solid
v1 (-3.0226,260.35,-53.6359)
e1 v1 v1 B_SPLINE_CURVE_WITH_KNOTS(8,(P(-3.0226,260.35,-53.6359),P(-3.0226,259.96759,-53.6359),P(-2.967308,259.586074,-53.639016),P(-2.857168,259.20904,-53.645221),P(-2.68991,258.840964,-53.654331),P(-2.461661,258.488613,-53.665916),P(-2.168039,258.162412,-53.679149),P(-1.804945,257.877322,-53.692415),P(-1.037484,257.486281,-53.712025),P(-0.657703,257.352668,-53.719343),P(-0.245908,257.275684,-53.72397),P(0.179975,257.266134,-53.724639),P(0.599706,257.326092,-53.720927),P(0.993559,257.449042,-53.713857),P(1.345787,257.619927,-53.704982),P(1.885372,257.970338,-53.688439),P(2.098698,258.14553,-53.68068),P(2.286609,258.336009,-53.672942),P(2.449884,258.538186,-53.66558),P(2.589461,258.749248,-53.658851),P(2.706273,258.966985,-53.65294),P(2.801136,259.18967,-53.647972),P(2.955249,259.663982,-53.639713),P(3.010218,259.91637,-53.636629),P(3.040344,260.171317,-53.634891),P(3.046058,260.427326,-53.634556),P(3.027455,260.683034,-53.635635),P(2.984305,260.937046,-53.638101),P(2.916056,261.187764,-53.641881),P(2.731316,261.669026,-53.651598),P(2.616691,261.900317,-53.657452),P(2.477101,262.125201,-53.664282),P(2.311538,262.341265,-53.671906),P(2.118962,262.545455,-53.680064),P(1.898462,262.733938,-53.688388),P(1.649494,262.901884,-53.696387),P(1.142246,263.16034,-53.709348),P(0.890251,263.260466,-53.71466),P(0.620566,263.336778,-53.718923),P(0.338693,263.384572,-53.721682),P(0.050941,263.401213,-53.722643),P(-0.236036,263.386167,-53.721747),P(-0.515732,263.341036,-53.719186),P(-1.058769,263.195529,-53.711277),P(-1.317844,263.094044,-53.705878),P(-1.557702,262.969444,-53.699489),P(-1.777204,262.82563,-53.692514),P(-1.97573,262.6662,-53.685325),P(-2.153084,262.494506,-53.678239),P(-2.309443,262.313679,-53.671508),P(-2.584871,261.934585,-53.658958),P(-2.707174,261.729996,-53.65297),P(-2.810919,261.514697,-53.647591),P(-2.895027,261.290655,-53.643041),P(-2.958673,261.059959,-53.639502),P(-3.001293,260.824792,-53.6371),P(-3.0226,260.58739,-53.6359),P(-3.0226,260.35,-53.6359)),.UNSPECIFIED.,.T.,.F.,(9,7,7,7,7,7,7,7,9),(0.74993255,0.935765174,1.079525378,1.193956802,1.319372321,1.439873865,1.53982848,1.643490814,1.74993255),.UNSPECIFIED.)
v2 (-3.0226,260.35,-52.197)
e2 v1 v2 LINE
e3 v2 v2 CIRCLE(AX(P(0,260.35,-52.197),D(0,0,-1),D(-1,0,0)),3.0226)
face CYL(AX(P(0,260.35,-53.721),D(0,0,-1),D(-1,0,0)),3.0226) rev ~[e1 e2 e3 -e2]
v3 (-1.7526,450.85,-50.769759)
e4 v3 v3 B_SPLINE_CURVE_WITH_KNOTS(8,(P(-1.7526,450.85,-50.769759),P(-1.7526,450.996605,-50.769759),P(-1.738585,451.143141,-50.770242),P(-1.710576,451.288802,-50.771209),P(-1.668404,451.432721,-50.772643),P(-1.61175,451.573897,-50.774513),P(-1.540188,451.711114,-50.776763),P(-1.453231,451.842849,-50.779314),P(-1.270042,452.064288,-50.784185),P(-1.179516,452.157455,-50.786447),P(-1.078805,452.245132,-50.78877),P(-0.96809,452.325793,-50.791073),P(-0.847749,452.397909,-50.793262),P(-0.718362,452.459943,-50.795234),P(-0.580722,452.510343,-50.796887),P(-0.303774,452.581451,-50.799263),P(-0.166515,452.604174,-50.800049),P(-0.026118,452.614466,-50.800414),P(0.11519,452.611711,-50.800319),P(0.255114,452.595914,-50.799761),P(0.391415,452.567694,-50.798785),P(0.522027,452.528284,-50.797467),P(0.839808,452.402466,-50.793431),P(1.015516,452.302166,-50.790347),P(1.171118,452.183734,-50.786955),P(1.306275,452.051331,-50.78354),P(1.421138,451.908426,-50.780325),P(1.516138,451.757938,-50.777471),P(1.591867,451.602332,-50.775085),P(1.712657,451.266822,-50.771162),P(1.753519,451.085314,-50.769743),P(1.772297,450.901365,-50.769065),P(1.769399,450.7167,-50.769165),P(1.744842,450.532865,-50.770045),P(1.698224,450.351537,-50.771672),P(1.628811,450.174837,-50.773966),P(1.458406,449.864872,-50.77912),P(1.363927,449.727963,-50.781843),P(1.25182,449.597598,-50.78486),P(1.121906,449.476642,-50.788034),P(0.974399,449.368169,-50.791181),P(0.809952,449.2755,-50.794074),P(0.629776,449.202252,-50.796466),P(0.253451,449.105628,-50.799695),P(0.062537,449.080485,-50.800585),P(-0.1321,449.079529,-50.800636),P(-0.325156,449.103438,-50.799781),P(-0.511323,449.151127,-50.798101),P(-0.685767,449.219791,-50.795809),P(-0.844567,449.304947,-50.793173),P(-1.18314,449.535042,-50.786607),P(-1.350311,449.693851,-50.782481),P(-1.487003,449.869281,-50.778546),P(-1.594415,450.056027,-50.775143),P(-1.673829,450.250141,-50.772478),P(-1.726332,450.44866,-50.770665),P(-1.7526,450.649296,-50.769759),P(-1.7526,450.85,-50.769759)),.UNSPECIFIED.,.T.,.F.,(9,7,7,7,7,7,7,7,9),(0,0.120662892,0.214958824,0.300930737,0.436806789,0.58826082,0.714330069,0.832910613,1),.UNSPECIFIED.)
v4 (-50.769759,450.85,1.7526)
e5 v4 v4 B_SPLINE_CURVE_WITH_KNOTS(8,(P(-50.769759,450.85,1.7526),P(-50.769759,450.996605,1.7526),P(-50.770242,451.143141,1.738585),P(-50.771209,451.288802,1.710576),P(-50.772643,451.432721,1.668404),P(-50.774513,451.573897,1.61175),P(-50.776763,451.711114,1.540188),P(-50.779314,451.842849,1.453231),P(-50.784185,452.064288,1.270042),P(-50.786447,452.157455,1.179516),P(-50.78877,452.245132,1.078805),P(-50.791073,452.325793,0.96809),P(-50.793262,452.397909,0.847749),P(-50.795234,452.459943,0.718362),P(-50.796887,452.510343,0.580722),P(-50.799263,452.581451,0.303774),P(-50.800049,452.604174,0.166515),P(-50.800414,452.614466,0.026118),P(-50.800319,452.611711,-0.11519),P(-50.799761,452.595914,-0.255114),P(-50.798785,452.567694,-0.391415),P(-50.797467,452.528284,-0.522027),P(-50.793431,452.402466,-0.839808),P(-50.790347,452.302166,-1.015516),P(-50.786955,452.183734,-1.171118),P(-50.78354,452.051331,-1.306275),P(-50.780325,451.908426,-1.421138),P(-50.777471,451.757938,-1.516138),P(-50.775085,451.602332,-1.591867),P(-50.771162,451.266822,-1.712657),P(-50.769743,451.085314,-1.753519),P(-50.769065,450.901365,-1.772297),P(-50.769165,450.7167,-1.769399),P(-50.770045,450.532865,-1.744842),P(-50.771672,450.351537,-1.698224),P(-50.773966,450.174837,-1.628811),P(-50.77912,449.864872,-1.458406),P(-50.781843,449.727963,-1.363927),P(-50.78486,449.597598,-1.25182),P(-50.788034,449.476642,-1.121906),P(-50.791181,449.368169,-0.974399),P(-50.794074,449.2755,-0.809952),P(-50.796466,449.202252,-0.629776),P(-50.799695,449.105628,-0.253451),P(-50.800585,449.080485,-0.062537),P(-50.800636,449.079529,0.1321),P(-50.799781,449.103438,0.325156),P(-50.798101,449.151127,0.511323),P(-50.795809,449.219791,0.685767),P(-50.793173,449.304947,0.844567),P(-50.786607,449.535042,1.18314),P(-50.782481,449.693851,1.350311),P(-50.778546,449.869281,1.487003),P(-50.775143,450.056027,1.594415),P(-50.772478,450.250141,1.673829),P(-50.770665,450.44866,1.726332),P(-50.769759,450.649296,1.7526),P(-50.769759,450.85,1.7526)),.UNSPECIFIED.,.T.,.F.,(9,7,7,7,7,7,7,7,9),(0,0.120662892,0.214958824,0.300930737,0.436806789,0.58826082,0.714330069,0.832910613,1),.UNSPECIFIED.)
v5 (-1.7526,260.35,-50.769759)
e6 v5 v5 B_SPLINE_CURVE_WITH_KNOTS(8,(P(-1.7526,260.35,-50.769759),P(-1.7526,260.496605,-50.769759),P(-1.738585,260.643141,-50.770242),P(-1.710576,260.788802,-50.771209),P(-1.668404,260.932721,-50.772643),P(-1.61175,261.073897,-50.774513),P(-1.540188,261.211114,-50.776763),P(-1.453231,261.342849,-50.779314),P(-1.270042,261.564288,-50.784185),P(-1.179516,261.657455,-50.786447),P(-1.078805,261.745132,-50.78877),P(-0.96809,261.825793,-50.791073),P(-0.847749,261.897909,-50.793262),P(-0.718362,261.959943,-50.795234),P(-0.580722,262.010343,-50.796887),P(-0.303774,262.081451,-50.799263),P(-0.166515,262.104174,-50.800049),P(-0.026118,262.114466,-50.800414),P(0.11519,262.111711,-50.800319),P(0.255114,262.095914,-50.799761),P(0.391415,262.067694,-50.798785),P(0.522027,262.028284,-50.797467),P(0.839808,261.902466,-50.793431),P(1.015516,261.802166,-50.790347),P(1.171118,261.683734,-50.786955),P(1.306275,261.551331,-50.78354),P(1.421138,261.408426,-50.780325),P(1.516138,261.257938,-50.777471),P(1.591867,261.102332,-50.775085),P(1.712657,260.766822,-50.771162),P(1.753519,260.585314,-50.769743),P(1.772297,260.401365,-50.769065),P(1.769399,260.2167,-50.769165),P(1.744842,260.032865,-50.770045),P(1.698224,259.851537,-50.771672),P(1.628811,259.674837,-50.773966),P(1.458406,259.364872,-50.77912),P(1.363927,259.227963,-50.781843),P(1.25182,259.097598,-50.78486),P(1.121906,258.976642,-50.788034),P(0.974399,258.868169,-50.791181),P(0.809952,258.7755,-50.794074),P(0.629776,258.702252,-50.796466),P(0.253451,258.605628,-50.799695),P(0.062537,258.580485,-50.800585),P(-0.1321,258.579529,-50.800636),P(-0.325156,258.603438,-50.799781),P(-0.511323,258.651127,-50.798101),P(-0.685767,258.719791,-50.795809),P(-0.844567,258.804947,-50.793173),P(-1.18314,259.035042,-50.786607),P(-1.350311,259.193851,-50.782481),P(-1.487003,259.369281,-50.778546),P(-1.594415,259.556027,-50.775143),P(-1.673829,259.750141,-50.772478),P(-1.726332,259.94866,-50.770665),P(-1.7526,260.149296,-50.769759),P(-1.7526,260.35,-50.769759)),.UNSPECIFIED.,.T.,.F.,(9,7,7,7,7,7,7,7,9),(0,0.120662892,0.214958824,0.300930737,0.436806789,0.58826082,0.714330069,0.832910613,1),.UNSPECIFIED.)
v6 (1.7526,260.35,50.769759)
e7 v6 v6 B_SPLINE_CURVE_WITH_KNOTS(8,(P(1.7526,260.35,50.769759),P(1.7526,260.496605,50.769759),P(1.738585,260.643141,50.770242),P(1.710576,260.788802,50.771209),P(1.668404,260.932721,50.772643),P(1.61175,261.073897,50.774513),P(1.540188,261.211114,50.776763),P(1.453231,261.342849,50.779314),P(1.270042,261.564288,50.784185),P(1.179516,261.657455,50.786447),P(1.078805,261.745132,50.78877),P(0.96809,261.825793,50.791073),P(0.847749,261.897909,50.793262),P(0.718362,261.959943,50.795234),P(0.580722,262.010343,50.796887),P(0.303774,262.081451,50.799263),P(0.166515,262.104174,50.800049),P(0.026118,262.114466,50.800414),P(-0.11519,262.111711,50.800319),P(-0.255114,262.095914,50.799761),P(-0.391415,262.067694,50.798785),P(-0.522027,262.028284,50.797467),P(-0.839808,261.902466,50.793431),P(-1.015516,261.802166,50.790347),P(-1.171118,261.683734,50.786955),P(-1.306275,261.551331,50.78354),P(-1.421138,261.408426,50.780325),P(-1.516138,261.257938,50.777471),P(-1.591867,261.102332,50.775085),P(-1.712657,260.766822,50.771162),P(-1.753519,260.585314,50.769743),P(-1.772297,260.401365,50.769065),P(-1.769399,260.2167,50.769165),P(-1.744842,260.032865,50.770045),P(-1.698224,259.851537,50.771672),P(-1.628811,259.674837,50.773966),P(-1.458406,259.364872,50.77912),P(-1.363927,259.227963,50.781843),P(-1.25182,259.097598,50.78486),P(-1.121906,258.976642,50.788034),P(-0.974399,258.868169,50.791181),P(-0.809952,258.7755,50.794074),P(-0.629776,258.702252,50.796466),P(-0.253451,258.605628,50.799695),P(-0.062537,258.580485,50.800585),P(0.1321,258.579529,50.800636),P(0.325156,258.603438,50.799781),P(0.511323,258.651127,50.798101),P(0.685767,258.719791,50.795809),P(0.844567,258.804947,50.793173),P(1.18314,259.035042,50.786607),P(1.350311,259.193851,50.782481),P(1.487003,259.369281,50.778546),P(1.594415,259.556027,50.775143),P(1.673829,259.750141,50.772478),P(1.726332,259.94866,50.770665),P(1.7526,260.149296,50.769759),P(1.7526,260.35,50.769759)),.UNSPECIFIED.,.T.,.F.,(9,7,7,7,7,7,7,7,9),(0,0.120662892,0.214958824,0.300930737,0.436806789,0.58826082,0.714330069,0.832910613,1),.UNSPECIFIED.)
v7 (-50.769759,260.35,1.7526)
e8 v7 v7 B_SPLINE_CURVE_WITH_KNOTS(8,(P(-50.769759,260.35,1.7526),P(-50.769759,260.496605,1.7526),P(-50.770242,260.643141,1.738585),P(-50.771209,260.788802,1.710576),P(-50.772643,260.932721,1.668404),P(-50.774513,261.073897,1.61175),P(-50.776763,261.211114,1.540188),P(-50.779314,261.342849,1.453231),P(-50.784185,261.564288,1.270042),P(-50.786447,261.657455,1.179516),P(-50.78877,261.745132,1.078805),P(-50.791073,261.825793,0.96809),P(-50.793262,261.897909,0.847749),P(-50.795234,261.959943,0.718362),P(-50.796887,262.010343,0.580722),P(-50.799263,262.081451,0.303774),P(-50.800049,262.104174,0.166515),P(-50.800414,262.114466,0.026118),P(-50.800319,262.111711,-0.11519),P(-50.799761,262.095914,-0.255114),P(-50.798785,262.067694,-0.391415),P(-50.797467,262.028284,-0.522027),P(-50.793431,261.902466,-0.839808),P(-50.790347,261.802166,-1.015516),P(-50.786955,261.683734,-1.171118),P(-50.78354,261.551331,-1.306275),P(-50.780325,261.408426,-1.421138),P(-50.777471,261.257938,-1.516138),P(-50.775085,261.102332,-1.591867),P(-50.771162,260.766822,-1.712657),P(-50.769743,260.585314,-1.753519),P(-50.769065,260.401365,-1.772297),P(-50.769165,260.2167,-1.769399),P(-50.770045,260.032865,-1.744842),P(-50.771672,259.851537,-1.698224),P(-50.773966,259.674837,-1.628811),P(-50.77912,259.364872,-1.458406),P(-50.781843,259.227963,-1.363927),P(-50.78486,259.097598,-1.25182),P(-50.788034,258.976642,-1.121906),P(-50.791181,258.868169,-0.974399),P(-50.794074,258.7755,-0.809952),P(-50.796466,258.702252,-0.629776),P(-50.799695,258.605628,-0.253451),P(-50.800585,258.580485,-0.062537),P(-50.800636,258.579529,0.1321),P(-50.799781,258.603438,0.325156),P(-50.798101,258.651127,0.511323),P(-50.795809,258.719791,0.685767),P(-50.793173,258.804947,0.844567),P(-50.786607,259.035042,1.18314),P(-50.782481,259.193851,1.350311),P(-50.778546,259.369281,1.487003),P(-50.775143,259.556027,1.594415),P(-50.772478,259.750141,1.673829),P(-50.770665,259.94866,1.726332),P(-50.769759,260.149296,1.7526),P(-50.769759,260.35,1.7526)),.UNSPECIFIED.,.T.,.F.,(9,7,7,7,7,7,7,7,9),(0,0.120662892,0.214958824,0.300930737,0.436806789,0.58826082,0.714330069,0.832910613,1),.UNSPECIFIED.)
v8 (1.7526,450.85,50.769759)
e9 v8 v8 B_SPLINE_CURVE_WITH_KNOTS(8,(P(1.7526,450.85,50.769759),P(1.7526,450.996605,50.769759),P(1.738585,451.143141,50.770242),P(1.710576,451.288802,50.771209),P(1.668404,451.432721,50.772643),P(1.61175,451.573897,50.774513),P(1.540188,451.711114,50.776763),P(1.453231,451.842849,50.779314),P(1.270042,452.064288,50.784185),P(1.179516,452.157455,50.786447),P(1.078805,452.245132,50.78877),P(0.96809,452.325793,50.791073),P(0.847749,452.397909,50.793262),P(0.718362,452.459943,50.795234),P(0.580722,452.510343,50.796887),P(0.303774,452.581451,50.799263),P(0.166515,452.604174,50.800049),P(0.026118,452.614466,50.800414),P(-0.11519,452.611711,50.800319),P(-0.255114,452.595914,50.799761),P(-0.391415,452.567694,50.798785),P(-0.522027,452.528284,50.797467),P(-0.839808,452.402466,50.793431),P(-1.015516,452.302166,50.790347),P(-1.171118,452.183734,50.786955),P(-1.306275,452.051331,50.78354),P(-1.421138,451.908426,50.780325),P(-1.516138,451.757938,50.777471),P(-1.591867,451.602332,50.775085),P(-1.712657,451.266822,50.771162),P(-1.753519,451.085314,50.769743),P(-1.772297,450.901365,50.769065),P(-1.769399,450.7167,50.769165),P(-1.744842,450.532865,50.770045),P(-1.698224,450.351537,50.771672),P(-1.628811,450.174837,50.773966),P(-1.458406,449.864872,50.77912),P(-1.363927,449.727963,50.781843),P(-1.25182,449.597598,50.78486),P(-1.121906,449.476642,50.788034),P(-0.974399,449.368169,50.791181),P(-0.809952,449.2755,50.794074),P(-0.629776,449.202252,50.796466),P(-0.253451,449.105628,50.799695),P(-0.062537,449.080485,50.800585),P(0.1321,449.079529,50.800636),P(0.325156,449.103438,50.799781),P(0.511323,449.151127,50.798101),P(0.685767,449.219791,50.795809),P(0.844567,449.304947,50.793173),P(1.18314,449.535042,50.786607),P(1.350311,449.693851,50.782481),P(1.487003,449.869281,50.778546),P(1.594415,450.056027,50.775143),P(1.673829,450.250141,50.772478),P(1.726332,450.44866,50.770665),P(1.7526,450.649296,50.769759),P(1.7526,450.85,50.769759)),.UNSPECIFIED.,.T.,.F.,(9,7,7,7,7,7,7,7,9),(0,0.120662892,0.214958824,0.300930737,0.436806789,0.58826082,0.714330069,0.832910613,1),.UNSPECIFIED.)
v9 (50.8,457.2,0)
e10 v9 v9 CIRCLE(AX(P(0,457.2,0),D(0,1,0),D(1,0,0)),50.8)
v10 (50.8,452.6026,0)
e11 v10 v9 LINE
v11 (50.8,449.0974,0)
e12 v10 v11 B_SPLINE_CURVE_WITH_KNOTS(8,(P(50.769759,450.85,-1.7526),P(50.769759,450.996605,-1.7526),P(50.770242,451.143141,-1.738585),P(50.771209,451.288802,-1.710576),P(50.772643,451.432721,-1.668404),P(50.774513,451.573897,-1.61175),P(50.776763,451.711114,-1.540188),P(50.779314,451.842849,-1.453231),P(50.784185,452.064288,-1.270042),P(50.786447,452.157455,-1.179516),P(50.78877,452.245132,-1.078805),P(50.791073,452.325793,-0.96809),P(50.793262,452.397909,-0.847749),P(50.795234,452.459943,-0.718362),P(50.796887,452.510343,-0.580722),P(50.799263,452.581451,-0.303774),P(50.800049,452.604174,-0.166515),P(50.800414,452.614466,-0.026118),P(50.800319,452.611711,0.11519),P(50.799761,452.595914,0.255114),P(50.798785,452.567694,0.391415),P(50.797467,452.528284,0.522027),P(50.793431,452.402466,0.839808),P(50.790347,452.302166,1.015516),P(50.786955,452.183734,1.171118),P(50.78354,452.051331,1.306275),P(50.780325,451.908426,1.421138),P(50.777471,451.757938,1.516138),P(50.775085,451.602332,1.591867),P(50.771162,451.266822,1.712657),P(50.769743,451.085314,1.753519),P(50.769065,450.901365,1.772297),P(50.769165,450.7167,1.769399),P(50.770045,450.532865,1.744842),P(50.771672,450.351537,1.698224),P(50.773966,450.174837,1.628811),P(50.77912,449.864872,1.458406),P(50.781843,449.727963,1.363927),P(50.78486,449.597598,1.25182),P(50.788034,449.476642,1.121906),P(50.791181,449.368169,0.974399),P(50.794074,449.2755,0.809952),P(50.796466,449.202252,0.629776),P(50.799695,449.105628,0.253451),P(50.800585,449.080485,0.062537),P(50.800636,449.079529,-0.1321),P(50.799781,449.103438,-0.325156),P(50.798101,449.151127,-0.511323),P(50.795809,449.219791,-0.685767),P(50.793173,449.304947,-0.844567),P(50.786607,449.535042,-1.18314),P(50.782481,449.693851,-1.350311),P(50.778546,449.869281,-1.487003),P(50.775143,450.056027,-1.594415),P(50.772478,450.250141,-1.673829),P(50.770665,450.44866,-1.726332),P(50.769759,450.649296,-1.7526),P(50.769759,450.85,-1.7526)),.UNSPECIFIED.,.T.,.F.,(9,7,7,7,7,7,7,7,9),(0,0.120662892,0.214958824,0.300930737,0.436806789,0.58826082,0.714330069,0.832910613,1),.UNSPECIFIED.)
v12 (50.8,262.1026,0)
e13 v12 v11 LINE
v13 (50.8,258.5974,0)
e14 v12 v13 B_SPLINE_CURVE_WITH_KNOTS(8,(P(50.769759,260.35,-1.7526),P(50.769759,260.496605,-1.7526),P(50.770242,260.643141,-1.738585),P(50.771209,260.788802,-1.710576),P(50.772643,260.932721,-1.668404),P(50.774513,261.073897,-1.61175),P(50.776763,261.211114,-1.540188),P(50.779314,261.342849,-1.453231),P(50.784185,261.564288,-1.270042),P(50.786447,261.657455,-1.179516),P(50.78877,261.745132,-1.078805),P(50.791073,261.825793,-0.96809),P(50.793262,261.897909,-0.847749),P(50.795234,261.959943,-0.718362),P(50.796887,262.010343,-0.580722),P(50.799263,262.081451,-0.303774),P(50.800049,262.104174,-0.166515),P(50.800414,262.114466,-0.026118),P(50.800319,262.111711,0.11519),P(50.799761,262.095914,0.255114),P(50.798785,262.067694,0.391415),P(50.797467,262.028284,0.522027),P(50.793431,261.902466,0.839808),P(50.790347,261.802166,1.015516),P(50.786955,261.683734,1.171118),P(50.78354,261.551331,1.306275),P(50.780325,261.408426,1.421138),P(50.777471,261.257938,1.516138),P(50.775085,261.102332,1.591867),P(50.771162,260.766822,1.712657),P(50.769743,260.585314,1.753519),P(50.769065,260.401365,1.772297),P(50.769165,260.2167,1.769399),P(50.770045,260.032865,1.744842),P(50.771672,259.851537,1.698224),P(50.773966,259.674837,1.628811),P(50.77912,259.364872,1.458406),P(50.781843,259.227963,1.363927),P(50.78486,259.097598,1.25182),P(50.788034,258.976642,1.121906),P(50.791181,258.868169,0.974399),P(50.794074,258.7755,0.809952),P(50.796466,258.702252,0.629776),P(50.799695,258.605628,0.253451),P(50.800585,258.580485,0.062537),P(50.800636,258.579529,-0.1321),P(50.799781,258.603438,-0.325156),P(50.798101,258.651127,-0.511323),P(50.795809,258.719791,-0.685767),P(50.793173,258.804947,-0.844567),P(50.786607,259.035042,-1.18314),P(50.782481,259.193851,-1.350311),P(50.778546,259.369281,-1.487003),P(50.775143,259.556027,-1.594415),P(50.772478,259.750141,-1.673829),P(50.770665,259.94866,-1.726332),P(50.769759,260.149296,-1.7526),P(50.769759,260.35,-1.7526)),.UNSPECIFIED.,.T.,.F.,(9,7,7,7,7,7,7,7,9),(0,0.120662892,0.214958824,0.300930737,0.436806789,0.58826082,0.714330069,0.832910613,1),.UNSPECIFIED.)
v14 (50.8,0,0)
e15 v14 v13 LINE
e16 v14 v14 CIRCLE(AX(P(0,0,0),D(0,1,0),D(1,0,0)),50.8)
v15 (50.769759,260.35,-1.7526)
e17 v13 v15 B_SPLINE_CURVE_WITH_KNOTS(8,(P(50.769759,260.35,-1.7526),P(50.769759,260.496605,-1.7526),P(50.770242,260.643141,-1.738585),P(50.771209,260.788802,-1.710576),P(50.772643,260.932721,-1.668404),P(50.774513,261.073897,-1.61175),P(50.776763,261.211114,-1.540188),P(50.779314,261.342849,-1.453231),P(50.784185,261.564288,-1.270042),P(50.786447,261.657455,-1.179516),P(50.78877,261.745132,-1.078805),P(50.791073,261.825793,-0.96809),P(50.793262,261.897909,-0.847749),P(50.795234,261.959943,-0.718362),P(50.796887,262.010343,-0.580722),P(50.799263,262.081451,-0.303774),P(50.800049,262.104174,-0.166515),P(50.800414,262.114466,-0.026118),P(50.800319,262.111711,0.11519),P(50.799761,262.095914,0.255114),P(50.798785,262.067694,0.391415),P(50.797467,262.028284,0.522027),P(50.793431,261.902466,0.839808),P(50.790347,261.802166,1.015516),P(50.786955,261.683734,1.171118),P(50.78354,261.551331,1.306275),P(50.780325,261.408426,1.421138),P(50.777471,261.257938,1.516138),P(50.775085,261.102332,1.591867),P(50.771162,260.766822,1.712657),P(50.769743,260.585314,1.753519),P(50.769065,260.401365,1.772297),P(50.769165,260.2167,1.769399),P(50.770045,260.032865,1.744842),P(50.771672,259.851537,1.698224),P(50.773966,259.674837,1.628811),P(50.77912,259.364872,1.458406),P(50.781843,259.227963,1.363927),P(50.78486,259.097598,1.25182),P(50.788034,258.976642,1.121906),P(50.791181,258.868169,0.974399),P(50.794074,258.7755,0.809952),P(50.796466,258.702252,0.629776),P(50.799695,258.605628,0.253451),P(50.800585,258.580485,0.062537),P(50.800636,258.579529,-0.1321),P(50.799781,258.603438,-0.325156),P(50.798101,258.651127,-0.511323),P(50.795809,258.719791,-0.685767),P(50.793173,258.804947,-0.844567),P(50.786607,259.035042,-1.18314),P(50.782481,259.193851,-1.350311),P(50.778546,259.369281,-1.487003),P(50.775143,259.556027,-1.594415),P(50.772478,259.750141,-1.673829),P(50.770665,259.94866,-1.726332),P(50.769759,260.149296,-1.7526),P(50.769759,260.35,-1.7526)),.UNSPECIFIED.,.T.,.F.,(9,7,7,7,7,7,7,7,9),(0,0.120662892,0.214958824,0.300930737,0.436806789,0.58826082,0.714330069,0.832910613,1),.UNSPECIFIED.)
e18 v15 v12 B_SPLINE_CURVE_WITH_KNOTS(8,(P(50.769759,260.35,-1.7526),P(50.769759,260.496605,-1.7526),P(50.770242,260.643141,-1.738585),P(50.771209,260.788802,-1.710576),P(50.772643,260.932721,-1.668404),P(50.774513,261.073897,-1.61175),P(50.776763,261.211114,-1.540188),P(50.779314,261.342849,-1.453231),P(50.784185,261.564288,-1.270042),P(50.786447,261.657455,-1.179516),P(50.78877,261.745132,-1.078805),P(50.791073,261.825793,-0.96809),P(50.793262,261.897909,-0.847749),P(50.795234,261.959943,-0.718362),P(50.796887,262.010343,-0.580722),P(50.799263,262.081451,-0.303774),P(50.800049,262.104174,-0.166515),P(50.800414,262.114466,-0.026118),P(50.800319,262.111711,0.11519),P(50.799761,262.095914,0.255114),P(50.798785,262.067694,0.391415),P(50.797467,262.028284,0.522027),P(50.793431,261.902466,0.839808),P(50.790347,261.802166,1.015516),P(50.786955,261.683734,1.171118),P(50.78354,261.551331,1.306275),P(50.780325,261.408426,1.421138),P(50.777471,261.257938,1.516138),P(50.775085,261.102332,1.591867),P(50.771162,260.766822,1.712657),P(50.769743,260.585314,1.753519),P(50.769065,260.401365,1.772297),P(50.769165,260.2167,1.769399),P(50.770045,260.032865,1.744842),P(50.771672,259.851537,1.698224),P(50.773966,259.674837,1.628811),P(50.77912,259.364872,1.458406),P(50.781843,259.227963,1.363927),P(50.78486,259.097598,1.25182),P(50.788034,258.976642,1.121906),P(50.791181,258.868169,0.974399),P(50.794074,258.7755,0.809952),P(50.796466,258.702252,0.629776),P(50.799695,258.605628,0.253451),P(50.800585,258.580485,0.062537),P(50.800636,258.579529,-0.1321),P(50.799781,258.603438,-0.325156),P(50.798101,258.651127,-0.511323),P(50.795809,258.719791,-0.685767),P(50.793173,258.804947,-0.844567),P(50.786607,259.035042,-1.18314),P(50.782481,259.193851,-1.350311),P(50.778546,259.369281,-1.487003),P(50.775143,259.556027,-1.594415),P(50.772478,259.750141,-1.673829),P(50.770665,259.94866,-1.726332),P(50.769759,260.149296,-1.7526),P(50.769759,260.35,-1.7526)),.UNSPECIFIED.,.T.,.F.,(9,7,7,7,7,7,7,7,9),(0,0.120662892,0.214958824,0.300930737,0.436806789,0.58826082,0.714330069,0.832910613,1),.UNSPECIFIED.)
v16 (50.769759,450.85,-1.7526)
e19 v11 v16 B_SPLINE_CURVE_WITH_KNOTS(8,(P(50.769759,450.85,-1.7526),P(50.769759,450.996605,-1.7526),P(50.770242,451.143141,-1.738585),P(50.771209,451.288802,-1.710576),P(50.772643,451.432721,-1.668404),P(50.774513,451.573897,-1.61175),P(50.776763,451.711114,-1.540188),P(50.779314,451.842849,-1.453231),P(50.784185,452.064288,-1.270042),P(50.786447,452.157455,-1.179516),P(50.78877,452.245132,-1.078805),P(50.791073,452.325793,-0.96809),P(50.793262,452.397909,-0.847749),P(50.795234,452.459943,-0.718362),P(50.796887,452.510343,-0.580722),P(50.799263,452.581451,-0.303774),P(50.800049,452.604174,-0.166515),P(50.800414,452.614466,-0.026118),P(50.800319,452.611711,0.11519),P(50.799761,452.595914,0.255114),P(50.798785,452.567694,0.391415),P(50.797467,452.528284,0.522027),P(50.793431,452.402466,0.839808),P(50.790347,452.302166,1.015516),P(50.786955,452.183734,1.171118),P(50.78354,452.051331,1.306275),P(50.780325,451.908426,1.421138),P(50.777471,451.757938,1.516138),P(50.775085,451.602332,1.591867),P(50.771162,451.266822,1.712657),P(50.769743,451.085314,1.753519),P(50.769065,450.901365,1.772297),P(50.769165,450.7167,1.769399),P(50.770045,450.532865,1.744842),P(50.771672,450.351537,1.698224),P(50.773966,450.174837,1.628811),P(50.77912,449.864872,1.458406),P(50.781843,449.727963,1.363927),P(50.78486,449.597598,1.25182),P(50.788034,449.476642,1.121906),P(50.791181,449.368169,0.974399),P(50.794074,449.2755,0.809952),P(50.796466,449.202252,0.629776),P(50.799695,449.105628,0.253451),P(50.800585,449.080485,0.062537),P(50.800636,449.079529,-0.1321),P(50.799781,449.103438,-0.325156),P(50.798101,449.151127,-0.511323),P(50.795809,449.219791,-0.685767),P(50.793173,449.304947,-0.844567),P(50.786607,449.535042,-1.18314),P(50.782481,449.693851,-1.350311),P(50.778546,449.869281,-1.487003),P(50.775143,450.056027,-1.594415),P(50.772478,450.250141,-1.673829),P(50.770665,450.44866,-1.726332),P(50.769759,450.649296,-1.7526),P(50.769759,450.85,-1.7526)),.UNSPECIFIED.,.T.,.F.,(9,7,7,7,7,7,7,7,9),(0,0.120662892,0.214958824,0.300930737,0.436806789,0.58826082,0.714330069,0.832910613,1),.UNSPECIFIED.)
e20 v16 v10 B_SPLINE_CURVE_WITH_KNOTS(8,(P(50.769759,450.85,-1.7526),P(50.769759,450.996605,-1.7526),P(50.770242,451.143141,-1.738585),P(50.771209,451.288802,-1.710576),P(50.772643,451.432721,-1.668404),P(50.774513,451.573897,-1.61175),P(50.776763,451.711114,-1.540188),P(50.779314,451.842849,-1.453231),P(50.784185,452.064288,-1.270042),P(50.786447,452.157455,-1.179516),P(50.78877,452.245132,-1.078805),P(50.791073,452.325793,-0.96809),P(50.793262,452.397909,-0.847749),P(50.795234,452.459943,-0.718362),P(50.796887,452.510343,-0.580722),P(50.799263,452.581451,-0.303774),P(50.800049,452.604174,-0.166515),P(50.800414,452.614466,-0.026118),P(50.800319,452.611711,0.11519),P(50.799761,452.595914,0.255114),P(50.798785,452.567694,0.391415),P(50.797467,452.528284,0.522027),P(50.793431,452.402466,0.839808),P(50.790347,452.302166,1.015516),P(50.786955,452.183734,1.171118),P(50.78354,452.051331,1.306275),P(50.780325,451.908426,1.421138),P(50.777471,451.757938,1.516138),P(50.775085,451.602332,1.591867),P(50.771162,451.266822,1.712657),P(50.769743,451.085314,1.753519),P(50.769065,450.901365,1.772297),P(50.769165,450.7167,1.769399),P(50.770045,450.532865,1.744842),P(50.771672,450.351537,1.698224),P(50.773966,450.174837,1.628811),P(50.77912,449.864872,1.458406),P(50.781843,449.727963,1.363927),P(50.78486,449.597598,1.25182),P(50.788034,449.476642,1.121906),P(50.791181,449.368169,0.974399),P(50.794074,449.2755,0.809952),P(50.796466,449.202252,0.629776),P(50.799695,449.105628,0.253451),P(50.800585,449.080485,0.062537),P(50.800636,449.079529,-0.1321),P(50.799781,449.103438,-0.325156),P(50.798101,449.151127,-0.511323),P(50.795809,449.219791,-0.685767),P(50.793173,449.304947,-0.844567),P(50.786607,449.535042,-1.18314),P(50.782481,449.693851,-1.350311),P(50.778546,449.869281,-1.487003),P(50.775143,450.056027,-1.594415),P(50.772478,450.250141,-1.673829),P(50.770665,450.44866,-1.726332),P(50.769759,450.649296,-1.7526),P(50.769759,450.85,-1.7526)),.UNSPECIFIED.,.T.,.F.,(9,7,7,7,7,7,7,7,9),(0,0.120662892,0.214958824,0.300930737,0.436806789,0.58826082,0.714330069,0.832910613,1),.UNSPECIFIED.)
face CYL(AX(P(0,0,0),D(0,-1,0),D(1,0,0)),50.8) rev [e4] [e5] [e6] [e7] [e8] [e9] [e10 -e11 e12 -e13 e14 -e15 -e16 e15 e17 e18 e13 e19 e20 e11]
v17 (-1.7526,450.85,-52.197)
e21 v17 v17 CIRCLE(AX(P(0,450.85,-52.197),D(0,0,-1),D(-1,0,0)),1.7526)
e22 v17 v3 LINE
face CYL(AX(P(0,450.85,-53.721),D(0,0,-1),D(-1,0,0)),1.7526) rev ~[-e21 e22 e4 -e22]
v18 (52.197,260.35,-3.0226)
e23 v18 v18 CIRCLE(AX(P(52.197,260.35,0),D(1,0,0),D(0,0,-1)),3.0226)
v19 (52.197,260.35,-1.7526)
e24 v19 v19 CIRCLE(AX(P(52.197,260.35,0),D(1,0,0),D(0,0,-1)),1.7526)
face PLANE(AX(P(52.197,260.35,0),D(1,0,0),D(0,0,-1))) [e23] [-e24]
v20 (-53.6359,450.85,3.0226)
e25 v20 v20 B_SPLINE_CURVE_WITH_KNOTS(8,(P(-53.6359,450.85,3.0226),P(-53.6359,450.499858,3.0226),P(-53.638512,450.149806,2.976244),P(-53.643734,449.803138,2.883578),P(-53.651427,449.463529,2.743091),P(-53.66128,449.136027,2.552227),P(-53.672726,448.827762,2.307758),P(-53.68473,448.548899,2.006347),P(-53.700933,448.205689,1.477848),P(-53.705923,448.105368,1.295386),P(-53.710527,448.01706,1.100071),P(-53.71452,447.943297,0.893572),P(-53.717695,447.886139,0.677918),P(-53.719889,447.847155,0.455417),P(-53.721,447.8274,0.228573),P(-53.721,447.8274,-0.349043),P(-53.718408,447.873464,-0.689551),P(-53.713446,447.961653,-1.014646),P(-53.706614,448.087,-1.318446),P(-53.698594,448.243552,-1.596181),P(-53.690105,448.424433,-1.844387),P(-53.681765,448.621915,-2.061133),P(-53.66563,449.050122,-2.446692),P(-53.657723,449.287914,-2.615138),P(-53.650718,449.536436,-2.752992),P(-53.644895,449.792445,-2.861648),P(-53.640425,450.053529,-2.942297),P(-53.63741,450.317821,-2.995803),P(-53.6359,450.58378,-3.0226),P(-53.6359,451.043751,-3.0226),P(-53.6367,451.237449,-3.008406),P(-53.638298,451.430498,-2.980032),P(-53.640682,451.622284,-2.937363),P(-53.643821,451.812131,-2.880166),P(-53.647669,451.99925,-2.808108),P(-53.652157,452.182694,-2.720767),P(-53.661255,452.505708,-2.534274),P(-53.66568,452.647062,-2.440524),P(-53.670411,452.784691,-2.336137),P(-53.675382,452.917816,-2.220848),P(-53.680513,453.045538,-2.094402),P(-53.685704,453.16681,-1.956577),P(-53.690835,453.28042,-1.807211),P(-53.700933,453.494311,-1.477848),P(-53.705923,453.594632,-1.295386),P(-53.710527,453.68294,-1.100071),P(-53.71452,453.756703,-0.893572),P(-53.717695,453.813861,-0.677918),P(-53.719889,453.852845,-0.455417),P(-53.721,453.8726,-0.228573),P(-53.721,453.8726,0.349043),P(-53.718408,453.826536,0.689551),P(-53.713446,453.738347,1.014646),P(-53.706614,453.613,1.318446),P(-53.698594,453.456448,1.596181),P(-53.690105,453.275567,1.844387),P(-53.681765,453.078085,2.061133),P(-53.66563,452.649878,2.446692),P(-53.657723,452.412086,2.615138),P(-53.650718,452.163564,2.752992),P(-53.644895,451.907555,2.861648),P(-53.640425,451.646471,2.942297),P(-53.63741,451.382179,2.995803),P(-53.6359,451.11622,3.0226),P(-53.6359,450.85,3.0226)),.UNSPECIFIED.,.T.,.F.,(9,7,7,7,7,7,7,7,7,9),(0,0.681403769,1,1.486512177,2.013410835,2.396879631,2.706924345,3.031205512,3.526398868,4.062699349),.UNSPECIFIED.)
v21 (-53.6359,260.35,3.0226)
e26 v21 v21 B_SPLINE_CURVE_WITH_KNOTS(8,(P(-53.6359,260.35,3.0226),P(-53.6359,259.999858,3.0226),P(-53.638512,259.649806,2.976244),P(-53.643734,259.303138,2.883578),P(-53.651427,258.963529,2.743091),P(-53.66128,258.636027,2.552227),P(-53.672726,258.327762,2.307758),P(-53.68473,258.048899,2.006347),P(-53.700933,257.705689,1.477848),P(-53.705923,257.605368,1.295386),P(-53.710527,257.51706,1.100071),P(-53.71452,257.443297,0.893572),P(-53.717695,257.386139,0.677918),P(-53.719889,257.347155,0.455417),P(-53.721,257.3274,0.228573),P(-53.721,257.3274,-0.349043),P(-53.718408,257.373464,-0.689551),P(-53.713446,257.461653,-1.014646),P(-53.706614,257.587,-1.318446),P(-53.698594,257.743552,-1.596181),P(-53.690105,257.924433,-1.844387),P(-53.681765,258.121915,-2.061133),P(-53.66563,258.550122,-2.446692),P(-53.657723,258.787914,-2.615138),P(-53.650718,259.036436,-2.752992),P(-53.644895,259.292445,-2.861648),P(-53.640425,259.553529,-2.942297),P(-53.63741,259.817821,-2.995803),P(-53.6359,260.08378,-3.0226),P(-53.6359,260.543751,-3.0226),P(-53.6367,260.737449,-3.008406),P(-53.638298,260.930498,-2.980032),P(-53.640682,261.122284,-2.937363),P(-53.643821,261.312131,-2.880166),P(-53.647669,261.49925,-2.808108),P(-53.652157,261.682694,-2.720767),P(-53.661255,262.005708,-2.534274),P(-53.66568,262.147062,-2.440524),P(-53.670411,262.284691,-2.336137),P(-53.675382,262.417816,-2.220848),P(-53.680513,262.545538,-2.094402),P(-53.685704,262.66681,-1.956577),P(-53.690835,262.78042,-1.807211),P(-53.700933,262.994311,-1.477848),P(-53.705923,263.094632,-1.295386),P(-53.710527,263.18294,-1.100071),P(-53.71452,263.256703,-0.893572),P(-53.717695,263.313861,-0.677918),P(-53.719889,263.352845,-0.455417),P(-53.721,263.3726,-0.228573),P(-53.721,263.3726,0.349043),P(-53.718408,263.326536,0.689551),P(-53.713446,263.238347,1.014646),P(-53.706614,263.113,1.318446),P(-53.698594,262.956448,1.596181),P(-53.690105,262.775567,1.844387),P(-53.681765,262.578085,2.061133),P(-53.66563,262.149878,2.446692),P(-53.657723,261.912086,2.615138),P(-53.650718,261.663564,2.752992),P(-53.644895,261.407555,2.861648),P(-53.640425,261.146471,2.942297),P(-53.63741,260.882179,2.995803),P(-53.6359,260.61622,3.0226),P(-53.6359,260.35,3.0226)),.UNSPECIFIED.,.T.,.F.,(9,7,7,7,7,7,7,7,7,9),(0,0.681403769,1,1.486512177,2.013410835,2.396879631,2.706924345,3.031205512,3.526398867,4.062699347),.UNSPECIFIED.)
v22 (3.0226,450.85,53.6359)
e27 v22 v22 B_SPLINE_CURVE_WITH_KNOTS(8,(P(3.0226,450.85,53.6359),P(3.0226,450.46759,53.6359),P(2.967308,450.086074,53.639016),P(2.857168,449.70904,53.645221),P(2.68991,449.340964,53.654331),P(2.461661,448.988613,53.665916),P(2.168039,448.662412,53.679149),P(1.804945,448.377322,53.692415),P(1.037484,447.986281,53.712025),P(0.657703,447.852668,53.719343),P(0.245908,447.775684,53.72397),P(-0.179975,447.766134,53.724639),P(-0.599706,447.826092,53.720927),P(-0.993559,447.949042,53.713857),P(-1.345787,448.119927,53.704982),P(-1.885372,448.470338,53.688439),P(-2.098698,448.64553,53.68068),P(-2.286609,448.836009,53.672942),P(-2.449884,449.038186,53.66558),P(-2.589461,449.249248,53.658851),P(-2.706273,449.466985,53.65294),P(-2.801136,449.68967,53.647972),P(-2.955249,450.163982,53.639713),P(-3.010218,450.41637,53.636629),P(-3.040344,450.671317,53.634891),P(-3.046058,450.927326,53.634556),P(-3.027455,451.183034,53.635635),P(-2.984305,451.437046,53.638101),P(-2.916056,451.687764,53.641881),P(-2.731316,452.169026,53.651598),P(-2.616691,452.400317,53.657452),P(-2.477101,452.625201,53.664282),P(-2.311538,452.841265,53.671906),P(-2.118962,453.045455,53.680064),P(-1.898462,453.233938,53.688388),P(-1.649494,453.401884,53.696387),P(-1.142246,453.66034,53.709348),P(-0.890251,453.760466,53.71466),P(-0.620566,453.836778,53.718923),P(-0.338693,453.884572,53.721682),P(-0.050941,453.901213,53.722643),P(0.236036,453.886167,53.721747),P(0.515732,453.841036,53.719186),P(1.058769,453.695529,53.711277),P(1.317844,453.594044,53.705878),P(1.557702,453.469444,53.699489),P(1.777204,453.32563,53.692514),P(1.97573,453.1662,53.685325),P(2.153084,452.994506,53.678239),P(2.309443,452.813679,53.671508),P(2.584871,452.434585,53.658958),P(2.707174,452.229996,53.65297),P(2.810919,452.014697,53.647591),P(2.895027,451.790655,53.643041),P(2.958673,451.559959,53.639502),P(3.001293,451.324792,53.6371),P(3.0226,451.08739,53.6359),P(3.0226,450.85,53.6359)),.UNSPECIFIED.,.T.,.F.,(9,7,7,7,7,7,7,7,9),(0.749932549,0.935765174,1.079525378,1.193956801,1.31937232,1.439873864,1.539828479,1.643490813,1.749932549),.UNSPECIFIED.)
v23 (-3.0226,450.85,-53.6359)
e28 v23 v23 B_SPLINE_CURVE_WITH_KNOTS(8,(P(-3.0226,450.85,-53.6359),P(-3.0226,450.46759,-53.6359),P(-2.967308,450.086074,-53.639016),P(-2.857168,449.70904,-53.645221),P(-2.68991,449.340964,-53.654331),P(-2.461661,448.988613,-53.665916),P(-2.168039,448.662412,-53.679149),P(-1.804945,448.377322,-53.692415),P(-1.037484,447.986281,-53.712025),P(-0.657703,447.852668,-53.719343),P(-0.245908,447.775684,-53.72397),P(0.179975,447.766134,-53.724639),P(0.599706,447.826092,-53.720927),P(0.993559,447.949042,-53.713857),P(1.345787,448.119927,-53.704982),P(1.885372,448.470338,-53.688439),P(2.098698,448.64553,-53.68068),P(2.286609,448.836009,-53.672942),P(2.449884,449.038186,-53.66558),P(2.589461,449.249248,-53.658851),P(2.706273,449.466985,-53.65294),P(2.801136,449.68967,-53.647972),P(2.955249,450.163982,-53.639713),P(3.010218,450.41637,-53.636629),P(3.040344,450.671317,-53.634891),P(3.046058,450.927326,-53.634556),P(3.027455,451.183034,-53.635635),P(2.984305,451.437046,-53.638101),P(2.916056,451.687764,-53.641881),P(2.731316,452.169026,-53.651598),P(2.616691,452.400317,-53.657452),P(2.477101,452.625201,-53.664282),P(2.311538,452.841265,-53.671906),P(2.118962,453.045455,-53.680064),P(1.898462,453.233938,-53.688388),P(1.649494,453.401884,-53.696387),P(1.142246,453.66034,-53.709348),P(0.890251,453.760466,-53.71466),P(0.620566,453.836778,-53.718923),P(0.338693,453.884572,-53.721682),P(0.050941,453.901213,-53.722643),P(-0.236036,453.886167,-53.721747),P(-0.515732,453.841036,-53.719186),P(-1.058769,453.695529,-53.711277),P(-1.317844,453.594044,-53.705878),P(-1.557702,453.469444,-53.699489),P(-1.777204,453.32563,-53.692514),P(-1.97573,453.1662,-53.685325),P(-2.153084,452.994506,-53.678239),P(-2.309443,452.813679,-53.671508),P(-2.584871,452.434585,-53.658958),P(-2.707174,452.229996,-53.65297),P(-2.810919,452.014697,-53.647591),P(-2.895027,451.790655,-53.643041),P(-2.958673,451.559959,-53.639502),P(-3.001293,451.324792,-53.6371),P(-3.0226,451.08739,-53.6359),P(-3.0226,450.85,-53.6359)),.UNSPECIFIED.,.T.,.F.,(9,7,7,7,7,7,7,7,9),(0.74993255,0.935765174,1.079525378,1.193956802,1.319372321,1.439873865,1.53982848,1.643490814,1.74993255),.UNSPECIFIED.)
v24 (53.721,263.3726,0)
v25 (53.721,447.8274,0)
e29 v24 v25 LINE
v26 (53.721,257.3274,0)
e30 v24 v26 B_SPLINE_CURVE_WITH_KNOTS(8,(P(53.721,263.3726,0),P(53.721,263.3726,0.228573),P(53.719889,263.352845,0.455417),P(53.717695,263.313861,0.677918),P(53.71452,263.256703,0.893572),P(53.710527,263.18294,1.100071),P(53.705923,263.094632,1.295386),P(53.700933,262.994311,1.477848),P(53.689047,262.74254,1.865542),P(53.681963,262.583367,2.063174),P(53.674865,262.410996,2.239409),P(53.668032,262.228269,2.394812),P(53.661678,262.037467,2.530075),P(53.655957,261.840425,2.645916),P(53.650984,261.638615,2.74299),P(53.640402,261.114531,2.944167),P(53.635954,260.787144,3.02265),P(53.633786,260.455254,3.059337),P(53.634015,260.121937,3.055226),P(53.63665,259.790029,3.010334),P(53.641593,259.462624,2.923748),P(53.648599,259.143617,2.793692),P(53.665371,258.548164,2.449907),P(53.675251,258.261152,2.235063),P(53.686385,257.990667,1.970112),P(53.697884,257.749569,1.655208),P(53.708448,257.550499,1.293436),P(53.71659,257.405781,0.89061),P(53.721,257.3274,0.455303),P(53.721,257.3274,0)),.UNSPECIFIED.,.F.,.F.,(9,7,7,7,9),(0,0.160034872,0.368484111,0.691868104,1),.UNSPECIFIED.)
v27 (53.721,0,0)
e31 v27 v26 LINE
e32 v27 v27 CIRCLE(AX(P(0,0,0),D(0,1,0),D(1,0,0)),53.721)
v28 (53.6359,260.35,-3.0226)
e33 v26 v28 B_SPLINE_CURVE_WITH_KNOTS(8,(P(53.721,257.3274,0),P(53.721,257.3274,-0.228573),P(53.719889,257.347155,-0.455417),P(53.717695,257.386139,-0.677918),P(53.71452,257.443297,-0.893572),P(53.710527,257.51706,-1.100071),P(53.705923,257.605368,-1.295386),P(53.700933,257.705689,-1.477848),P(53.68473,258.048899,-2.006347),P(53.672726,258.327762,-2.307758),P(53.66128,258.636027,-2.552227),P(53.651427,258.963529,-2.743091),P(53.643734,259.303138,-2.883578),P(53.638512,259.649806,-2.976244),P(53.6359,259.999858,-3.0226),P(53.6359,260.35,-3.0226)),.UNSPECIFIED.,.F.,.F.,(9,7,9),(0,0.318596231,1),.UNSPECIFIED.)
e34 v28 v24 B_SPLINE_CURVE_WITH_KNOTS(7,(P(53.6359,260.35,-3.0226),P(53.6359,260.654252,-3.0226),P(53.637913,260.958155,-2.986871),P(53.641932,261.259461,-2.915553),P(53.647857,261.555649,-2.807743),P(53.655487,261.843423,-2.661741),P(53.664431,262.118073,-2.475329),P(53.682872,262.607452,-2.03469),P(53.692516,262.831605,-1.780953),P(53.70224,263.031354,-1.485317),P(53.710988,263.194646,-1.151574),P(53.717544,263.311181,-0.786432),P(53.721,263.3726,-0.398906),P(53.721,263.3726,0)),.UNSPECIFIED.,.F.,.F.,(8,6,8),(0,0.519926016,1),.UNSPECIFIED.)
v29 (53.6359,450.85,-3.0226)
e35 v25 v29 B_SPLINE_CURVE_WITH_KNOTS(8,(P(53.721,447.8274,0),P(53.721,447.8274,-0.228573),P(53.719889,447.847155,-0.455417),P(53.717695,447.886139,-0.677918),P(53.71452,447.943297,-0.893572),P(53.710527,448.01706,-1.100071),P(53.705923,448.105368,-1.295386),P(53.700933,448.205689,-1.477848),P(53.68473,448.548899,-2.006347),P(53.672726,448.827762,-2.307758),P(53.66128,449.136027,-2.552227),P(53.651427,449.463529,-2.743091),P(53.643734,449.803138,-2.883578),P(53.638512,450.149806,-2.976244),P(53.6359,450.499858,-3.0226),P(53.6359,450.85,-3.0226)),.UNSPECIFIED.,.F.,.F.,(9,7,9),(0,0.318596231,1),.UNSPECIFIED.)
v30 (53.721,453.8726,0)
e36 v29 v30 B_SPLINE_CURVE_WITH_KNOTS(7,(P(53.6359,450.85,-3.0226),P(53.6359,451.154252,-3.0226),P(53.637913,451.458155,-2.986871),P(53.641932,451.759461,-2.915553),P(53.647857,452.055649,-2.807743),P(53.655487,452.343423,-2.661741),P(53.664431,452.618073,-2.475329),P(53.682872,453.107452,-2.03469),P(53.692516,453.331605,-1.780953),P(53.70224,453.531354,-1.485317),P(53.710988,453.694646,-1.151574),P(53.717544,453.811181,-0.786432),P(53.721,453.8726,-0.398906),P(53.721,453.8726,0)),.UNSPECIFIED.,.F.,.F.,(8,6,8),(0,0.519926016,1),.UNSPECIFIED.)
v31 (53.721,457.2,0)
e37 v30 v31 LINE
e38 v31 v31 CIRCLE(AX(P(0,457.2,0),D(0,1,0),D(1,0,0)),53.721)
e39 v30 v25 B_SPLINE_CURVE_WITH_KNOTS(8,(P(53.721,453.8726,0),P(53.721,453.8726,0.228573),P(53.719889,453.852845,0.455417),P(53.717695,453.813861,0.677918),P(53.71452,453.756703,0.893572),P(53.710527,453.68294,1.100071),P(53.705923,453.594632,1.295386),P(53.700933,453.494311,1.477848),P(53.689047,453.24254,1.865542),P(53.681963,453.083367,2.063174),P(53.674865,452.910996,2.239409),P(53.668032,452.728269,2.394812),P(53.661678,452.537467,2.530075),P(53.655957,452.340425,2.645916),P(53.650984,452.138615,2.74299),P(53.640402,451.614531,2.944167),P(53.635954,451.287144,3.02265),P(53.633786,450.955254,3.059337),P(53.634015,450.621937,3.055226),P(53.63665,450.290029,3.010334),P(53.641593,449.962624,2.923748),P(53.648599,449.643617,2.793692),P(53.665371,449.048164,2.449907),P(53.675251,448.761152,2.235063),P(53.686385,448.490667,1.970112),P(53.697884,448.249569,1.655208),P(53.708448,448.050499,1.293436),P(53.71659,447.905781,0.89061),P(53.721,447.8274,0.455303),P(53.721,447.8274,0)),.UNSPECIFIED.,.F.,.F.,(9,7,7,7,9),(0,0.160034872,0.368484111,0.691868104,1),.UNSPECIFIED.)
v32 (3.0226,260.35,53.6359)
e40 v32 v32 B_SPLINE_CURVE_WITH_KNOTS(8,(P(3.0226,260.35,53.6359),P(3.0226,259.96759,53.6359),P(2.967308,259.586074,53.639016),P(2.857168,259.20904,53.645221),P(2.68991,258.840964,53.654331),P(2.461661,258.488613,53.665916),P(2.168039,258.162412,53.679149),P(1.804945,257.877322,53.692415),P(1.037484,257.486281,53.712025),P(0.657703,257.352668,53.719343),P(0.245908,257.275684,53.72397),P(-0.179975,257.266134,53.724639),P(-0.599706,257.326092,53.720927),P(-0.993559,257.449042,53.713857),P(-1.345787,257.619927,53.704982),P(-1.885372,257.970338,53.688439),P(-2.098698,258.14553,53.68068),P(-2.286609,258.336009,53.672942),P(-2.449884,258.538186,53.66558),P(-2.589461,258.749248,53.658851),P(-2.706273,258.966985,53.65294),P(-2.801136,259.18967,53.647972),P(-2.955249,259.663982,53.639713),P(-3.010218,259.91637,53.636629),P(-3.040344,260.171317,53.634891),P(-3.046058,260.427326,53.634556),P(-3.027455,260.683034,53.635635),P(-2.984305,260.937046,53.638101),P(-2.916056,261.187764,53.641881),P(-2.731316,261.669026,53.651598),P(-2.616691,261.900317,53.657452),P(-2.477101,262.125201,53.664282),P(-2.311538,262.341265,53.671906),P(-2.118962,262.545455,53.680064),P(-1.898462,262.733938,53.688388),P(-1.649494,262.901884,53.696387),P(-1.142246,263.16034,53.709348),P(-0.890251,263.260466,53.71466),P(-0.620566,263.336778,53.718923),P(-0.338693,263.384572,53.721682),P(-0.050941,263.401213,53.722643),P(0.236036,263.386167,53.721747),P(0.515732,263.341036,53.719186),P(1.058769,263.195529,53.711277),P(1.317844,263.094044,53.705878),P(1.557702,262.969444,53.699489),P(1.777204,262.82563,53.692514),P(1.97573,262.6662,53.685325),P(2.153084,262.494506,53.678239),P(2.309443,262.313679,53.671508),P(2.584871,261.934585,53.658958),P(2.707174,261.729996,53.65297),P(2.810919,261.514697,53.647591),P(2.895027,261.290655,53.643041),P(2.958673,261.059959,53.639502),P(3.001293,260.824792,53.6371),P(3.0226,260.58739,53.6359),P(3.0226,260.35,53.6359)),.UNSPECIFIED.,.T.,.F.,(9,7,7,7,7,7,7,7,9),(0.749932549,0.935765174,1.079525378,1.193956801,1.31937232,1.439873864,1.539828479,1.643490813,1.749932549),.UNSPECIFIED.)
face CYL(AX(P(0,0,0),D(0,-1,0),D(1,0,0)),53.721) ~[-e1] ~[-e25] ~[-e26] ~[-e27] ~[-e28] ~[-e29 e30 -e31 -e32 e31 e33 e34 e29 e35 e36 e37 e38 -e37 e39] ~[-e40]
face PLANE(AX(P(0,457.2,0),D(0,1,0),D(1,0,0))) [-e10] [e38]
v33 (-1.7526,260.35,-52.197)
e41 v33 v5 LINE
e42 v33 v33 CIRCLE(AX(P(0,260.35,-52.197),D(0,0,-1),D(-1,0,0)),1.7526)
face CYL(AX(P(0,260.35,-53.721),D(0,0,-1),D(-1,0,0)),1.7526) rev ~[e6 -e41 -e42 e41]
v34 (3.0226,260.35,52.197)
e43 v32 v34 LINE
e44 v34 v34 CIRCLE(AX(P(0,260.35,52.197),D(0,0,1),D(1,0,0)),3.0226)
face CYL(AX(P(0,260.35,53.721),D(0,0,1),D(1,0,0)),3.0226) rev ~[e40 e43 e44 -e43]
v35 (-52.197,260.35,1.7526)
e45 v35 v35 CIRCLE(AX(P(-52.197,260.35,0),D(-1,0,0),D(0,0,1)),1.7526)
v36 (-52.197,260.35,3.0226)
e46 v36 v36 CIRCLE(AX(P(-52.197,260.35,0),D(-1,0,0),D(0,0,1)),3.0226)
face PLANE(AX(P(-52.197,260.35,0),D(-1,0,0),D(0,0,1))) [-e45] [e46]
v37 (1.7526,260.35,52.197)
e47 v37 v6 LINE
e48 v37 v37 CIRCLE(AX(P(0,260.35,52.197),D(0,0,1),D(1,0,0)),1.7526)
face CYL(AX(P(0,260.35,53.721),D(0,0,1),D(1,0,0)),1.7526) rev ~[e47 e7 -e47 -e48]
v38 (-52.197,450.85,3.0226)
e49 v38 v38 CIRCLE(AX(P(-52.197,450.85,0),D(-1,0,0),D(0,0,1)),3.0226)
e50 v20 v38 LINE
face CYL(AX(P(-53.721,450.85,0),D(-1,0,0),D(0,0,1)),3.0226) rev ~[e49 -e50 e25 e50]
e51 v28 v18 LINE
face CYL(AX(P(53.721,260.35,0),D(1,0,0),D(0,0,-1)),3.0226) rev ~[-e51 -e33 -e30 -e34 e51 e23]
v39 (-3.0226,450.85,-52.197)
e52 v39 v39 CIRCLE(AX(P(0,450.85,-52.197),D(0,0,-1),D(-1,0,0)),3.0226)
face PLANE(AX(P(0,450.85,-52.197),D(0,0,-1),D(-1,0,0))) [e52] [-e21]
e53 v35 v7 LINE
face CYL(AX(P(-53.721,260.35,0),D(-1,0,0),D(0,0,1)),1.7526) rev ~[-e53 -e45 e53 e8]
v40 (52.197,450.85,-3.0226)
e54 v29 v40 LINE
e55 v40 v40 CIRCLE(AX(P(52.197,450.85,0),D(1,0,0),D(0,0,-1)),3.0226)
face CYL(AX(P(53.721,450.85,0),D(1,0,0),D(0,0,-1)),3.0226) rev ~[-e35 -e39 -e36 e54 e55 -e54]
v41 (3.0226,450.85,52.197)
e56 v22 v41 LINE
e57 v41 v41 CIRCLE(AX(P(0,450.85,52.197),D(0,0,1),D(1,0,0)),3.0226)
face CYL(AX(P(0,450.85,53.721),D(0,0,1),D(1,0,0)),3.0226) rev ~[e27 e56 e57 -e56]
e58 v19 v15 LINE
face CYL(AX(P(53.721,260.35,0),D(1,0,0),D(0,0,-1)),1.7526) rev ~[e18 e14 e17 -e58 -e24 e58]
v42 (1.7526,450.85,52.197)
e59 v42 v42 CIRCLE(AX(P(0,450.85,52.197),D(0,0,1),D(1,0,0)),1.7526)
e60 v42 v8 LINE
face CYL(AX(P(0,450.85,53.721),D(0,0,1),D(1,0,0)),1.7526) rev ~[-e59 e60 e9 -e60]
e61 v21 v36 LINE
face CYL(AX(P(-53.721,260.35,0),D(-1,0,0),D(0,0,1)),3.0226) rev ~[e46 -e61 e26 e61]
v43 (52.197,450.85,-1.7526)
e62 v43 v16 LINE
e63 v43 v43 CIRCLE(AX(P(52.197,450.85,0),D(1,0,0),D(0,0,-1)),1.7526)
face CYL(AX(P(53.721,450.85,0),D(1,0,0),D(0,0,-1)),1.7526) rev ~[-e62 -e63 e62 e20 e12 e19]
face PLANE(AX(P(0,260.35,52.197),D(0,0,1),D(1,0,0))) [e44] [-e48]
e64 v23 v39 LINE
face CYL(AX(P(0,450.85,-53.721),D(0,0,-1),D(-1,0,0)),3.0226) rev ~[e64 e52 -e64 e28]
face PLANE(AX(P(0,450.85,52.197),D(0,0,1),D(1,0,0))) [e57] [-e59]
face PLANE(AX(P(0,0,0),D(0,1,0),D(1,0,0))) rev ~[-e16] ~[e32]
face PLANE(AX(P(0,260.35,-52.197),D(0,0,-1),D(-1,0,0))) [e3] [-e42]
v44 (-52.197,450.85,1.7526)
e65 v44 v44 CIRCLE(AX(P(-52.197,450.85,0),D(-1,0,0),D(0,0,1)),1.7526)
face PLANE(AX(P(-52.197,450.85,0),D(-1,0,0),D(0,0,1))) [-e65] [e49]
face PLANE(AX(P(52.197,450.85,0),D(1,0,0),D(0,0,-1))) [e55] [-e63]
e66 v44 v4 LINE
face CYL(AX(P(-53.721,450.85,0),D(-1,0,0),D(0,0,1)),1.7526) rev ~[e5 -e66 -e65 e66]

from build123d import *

# Parameters (mm, degrees)
SKETCH1_R                         = 53.721
SKETCH1_R_2                       = 50.8
BODY_EXTRUSION_DEPTH              = 457.2
UPPER_BULKHEAD_HOLES_REACH        = 474.717
UPPER_BULKHEAD_HOLES_END_RADIUS   = 50.8
SKETCH2_R                         = 1.7526
UPPER_BULKHEAD_HOLE_PATTERN_COUNT = 4
LOWER_BULKHEAD_HOLES_REACH        = 474.717
LOWER_BULKHEAD_HOLES_END_RADIUS   = 50.8
SKETCH3_R                         = 1.7526
LOWER_BULKHEAD_HOLE_PATTERN_COUNT = 4
SKETCH4_R                         = 3.0226
COUNTERSINK_DEPTH                 = 1.524
COUNTERSINK_PATTERN_COUNT         = 4


with BuildPart() as part:
    # Sketch1 → Body Extrusion (new body)
    with BuildSketch(Plane(origin=(0, 0, 0), x_dir=(1, 0, 0), z_dir=(0, 1, 0))):
        Circle(SKETCH1_R)
        Circle(SKETCH1_R_2, mode=Mode.SUBTRACT)
    extrude(amount=BODY_EXTRUSION_DEPTH)

    # Upper Bulkhead Holes: up to this cylinder (the profile starts outside it)
    upper_bulkhead_holes_end = Plane(origin=(0, 450.85, 0), z_dir=(0, -1, 0)) * Cylinder(UPPER_BULKHEAD_HOLES_END_RADIUS, 1052.034, mode=Mode.PRIVATE)
    # Sketch2 → Upper Bulkhead Holes (cut, up to the surface)
    with BuildSketch(Plane.XY.offset(53.721), mode=Mode.PRIVATE) as upper_bulkhead_holes_sk1:
        with Locations((0, 450.85)):
            Circle(SKETCH2_R)
    upper_bulkhead_holes_tool1 = extrude(upper_bulkhead_holes_sk1.sketch, amount=-UPPER_BULKHEAD_HOLES_REACH, mode=Mode.PRIVATE) - upper_bulkhead_holes_end
    upper_bulkhead_holes = upper_bulkhead_holes_tool1.solids().sort_by_distance((0, 450.85, 53.721))[0]
    add(upper_bulkhead_holes, mode=Mode.SUBTRACT)

    # Upper Bulkhead Hole Pattern: Upper Bulkhead Holes ×4 about axis
    upper_bulkhead_hole_pattern_axis = Axis((0, 457.2, 0), (0, -1, 0))
    for i in range(1, UPPER_BULKHEAD_HOLE_PATTERN_COUNT):
        add(upper_bulkhead_holes.rotate(upper_bulkhead_hole_pattern_axis, i * 360 / UPPER_BULKHEAD_HOLE_PATTERN_COUNT), mode=Mode.SUBTRACT)

    # Lower Bulkhead Holes: up to this cylinder (the profile starts outside it)
    lower_bulkhead_holes_end = Plane(origin=(0, 260.35, 0), z_dir=(0, -1, 0)) * Cylinder(LOWER_BULKHEAD_HOLES_END_RADIUS, 1052.034, mode=Mode.PRIVATE)
    # Sketch3 → Lower Bulkhead Holes (cut, up to the surface)
    with BuildSketch(Plane.XY.offset(53.721), mode=Mode.PRIVATE) as lower_bulkhead_holes_sk1:
        with Locations((0, 260.35)):
            Circle(SKETCH3_R)
    lower_bulkhead_holes_tool1 = extrude(lower_bulkhead_holes_sk1.sketch, amount=-LOWER_BULKHEAD_HOLES_REACH, mode=Mode.PRIVATE) - lower_bulkhead_holes_end
    lower_bulkhead_holes = lower_bulkhead_holes_tool1.solids().sort_by_distance((0, 260.35, 53.721))[0]
    add(lower_bulkhead_holes, mode=Mode.SUBTRACT)

    # Lower Bulkhead Hole Pattern: Lower Bulkhead Holes ×4 about axis
    lower_bulkhead_hole_pattern_axis = Axis((0, 457.2, 0), (0, -1, 0))
    for i in range(1, LOWER_BULKHEAD_HOLE_PATTERN_COUNT):
        add(lower_bulkhead_holes.rotate(lower_bulkhead_hole_pattern_axis, i * 360 / LOWER_BULKHEAD_HOLE_PATTERN_COUNT), mode=Mode.SUBTRACT)

    # Sketch4 → Countersink (cut)
    with BuildSketch(Plane.XY.offset(53.721)):
        with Locations((0, 450.85)):
            Circle(SKETCH4_R)
        with Locations((0, 260.35)):
            Circle(SKETCH4_R)
    countersink = extrude(amount=-COUNTERSINK_DEPTH, mode=Mode.SUBTRACT)

    # Countersink Pattern: Countersink ×4 about axis
    countersink_pattern_axis = Axis((0, 0, 0), (0, 1, 0))
    for i in range(1, COUNTERSINK_PATTERN_COUNT):
        add(countersink.rotate(countersink_pattern_axis, i * 360 / COUNTERSINK_PATTERN_COUNT), mode=Mode.SUBTRACT)


solid = part.part
